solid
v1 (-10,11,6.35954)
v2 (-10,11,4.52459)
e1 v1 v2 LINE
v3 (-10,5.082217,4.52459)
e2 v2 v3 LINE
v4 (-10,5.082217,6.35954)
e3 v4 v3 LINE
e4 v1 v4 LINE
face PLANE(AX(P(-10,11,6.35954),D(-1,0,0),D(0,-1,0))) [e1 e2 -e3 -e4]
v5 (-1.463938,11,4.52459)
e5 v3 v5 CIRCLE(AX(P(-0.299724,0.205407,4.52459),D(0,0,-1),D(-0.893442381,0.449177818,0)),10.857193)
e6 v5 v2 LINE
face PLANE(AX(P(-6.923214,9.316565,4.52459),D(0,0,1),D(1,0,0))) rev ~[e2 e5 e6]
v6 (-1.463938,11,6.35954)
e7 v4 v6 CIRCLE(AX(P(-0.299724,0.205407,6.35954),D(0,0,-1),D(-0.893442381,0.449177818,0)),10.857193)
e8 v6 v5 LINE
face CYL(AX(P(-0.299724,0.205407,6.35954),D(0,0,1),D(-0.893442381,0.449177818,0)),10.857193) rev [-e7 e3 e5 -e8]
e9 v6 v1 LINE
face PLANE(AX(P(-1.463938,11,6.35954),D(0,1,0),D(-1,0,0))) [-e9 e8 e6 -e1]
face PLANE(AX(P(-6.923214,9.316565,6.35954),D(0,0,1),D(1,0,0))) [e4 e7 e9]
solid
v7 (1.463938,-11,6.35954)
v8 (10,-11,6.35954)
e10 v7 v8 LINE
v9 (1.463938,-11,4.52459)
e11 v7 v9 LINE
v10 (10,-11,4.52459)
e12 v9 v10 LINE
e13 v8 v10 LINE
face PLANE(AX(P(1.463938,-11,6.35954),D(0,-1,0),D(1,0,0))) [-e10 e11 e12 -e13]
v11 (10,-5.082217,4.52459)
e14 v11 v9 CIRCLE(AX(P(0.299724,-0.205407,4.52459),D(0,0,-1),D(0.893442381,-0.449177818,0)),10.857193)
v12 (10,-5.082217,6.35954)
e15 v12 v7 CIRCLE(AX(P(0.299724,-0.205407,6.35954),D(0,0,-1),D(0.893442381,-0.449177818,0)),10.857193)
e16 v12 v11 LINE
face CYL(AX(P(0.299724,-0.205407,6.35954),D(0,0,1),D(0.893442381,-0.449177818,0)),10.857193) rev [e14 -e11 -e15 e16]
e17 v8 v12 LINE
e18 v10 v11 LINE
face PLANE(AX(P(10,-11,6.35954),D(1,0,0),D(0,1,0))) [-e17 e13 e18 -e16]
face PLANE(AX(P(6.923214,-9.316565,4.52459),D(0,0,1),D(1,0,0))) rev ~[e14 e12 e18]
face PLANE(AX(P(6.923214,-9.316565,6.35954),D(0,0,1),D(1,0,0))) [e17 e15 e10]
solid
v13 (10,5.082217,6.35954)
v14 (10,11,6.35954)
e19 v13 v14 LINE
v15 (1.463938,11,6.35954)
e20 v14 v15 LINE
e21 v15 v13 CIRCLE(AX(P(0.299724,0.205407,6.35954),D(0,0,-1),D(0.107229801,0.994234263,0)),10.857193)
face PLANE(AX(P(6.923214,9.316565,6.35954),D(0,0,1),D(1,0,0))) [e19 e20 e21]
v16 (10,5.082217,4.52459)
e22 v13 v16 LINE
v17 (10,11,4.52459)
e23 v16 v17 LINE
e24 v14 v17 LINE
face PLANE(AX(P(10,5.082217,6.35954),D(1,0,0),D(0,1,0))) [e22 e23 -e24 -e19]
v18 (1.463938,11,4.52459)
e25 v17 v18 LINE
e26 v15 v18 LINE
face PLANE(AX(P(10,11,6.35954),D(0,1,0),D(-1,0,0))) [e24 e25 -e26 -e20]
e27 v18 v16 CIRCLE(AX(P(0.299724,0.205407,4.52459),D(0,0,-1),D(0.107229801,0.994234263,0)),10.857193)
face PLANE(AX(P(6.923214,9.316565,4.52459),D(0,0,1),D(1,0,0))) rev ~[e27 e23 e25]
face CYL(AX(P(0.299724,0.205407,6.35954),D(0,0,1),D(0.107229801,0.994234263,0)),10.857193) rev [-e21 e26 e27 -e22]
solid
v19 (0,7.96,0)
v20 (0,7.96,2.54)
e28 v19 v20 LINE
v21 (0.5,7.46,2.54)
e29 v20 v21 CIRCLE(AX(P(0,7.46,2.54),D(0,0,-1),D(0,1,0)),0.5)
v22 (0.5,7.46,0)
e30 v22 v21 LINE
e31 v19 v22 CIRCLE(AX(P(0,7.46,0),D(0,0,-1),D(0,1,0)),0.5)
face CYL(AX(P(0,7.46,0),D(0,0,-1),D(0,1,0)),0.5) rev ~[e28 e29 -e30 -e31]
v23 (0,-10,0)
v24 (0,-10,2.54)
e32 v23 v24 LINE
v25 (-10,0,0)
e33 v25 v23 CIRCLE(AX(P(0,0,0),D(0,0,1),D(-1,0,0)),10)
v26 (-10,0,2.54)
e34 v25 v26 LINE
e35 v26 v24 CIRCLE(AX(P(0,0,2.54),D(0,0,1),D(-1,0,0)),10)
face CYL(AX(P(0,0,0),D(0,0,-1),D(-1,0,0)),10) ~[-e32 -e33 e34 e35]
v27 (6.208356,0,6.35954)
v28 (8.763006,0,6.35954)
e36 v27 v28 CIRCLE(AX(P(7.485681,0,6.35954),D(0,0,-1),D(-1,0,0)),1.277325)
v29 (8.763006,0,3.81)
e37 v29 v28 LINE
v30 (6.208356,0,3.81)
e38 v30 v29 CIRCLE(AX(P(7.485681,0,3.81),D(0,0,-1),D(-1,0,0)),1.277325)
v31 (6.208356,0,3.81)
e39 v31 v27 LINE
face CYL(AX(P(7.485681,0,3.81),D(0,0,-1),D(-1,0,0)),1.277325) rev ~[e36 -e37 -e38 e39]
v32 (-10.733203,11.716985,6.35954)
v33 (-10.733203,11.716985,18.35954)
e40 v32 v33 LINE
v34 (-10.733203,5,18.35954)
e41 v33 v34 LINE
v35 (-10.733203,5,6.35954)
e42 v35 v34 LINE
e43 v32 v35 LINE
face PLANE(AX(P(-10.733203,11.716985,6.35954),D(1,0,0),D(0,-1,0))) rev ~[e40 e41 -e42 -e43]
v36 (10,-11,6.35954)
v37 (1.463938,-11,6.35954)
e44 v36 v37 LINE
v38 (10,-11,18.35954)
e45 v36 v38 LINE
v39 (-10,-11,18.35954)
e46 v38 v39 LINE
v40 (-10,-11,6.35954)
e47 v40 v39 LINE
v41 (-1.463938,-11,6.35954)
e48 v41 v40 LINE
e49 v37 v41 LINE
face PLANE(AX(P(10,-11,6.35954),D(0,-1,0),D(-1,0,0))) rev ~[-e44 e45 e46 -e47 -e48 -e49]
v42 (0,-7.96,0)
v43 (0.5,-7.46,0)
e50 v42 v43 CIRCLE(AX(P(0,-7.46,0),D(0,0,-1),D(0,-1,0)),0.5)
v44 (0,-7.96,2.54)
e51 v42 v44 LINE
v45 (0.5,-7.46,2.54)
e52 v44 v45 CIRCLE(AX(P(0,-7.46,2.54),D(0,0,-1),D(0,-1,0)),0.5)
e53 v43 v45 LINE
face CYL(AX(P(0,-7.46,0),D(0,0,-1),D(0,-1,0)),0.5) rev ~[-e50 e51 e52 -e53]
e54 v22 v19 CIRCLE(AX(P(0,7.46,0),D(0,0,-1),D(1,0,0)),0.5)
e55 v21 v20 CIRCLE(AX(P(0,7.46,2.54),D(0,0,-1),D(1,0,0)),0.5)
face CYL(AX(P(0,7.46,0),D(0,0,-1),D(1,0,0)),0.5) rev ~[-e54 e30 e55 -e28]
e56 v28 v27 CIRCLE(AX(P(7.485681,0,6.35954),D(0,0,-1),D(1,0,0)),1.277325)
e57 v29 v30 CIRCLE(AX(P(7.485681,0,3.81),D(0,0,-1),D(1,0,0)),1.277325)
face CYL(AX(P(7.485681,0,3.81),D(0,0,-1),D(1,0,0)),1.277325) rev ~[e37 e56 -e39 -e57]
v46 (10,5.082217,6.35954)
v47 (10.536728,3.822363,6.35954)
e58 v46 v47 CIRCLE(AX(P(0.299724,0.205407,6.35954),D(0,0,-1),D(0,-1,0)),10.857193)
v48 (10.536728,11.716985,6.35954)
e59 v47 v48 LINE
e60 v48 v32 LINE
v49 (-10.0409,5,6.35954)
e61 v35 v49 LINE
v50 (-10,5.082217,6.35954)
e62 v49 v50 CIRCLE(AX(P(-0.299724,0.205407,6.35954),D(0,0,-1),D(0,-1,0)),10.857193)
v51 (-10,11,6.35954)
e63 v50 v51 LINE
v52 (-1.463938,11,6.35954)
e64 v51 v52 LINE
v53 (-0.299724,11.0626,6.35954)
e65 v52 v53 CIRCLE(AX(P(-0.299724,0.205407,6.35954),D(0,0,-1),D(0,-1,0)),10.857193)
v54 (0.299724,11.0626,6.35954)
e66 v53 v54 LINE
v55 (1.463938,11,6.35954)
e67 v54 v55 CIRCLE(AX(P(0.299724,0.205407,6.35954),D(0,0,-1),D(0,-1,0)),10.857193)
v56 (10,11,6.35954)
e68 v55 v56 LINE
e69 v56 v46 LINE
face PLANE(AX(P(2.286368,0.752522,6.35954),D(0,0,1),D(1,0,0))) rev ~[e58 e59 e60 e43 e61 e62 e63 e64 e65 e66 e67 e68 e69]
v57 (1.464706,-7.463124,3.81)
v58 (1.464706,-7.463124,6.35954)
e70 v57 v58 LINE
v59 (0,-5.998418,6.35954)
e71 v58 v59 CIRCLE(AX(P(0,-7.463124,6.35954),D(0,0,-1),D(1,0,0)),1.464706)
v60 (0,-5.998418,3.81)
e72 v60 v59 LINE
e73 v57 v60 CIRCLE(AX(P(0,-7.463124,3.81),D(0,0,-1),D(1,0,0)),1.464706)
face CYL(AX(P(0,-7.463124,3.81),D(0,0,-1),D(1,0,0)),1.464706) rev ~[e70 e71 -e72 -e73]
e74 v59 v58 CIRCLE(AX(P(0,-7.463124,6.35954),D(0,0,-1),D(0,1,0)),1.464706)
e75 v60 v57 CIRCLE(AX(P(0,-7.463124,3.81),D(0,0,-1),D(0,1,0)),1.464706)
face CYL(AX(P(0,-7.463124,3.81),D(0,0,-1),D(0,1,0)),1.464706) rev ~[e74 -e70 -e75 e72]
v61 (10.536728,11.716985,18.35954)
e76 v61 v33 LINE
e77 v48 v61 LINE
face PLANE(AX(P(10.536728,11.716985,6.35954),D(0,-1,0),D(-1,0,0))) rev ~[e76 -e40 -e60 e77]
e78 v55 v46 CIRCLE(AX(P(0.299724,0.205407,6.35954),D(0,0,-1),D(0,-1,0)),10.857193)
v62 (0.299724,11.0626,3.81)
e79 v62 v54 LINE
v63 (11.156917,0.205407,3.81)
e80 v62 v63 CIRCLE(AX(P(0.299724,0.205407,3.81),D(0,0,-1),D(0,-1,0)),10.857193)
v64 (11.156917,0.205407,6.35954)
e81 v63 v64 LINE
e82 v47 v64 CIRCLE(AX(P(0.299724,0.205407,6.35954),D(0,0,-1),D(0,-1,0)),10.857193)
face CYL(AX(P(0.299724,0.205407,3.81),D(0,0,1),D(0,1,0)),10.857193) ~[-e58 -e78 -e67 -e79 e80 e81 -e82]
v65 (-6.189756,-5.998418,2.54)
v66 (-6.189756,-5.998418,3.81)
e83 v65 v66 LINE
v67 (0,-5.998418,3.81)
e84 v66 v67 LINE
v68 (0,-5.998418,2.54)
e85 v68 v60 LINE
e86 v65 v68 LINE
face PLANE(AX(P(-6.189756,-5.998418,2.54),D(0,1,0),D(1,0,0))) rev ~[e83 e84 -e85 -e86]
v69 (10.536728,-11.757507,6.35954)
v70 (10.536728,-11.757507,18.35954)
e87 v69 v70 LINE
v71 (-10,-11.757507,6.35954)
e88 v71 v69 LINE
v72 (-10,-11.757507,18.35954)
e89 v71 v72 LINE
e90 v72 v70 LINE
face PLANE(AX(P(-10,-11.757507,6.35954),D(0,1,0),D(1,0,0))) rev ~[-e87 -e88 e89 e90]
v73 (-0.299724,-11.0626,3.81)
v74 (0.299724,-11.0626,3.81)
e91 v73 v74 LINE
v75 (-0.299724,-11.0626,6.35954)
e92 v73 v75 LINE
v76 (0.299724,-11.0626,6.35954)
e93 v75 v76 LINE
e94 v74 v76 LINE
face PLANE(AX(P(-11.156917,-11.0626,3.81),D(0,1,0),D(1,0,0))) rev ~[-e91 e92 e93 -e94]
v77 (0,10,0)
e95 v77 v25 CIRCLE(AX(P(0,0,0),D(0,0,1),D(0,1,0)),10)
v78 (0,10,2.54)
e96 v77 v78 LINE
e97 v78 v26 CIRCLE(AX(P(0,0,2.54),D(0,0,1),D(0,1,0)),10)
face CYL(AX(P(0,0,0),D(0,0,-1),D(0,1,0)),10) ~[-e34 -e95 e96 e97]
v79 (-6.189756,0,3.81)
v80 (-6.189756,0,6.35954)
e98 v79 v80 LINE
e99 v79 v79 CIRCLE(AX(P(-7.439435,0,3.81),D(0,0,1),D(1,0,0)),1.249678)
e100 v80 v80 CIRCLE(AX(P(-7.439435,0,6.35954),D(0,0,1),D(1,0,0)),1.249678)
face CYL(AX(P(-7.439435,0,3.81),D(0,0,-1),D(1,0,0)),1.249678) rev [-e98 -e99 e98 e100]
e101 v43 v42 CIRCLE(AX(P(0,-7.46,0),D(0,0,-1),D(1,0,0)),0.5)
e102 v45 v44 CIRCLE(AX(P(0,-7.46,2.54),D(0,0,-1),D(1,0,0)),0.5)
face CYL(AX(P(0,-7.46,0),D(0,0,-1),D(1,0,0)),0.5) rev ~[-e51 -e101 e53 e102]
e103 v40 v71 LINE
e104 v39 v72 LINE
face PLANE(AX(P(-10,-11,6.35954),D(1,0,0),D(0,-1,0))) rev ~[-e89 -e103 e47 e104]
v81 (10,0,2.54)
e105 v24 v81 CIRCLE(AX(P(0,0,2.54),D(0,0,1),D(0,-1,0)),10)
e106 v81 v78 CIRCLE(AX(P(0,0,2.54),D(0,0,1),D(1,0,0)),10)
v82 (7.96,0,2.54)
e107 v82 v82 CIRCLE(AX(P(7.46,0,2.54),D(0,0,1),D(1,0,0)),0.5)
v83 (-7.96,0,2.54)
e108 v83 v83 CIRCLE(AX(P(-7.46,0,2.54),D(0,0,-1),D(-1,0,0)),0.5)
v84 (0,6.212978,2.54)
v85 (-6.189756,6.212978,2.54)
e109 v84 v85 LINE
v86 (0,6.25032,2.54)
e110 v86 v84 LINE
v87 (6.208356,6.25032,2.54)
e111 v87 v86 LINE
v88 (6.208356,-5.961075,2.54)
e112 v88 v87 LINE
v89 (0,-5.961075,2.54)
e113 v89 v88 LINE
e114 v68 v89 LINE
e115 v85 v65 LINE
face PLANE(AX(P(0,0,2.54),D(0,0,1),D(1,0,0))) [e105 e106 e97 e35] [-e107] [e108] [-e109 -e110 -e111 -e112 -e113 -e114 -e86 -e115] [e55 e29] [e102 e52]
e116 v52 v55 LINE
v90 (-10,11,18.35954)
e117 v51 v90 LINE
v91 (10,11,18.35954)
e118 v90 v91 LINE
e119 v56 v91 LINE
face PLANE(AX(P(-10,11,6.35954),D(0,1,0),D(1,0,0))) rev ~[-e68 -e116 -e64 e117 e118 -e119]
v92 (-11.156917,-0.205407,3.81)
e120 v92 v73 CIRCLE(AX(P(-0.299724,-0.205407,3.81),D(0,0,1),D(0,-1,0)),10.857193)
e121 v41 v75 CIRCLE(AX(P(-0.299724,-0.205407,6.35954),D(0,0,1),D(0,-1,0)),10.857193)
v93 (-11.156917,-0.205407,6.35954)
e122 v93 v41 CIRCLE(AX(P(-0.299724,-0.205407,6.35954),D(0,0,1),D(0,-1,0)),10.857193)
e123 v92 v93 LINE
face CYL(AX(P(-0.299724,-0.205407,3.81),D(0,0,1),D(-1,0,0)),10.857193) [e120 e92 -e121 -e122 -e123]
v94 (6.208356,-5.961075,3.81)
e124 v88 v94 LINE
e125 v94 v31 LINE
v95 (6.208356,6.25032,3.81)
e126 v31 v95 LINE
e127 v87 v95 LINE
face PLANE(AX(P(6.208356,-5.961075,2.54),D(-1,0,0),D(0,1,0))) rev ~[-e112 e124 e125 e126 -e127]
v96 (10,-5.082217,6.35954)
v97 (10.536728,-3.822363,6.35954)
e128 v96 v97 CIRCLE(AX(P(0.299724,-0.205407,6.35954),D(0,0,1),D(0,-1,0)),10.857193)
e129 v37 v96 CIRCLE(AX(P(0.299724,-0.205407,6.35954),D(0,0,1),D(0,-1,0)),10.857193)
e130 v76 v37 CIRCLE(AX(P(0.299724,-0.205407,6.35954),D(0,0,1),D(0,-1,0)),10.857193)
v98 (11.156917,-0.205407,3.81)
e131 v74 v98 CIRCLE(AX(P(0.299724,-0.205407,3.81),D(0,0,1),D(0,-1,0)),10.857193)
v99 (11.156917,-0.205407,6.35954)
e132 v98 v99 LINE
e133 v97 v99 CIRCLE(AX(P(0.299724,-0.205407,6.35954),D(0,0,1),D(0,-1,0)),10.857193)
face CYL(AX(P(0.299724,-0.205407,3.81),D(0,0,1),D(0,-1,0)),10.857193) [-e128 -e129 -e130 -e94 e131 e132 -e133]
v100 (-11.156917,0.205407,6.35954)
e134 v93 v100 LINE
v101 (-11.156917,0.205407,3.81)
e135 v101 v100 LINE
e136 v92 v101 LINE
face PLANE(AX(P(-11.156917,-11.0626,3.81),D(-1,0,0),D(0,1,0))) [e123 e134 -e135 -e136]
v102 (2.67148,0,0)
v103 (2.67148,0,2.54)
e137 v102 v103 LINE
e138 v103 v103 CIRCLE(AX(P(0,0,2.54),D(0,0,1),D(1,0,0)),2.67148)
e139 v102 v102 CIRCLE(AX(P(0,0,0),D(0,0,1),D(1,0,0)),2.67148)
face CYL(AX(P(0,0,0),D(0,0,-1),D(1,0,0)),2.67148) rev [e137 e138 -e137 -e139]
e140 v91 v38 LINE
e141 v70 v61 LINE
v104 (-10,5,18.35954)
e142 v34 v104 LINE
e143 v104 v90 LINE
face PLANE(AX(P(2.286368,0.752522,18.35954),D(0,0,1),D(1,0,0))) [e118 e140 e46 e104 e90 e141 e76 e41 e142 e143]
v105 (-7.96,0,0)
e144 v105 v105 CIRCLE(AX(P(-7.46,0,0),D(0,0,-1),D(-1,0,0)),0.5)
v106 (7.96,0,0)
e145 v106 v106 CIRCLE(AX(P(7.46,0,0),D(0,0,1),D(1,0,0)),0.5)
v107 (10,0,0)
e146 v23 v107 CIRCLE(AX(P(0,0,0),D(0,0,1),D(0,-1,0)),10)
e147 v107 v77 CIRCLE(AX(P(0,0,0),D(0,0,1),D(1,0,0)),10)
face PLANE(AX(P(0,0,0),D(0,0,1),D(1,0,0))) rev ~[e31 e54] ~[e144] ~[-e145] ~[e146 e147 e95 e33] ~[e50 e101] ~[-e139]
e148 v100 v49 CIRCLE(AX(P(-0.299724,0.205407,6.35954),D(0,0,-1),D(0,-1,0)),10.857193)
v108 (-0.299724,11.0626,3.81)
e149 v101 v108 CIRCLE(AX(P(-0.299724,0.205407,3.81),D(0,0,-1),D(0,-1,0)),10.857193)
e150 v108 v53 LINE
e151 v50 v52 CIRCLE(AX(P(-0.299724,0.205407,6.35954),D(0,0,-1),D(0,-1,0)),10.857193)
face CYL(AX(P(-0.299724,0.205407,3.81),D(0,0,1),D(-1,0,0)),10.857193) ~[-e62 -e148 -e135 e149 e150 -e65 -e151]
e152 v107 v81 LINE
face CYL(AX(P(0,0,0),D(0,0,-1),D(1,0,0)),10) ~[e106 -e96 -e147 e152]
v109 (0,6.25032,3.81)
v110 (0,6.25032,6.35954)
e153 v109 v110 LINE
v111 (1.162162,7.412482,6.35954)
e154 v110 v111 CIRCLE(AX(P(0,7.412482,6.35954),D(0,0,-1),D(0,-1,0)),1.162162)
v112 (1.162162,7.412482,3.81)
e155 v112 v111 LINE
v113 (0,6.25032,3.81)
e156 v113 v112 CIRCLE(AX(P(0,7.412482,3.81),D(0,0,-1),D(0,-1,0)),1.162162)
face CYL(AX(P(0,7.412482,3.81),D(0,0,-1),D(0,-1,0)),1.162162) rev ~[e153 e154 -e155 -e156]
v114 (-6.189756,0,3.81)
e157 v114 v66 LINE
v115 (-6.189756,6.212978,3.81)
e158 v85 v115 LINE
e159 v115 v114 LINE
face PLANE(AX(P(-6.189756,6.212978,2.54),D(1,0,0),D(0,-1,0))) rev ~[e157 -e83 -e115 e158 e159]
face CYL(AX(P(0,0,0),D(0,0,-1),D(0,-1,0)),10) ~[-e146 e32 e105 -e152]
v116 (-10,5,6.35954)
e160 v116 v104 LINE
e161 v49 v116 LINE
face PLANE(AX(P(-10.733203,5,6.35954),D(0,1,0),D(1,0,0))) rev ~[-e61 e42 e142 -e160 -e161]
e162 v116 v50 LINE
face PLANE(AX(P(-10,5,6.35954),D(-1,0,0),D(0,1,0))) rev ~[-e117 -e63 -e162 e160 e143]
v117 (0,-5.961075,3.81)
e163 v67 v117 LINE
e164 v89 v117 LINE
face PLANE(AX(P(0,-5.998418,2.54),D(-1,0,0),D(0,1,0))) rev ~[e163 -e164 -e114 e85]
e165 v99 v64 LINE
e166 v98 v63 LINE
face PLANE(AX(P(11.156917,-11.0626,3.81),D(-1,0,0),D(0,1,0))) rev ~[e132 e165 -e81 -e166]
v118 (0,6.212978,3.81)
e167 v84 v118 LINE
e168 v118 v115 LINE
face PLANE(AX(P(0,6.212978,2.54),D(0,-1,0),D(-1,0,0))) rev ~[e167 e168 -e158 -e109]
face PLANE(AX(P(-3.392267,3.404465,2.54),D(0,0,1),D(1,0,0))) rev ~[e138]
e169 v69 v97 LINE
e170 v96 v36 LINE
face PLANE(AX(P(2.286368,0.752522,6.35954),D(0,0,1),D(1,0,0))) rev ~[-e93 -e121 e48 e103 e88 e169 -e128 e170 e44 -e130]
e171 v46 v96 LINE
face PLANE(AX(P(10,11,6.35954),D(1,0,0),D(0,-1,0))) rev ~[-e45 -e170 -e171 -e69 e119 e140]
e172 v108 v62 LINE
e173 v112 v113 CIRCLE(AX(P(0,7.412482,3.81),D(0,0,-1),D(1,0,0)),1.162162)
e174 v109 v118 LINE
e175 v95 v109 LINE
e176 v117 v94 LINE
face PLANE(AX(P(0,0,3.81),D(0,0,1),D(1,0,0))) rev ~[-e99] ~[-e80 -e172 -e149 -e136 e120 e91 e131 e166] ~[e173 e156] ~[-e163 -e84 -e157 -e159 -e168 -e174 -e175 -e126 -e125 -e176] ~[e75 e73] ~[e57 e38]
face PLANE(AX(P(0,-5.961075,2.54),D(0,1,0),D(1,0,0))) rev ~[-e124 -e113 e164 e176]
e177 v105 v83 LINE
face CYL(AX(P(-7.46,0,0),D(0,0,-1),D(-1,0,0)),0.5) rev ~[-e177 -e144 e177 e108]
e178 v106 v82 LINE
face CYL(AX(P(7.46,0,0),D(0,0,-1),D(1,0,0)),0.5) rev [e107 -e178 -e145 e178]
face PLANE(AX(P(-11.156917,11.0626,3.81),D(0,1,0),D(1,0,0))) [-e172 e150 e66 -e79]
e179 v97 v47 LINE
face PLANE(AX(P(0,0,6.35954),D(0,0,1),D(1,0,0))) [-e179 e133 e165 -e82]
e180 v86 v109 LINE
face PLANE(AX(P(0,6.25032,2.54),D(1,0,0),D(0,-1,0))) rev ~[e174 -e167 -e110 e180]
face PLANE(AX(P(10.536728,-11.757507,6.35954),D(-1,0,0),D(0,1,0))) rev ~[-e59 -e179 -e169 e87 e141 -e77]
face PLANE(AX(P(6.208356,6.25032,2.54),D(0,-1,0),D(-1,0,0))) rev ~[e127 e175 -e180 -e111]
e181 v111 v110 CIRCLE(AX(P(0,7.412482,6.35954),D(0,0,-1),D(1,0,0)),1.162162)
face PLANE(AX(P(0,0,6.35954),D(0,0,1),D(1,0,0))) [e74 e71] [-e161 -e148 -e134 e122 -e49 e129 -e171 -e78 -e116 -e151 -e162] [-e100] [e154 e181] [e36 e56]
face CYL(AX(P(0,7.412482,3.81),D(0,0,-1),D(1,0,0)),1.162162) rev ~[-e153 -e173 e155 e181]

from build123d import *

# Parameters (mm, degrees)
F0_R     = 2.6714797436
F0_R_2   = 0.5
F1_DEPTH = 2.54
F3_DEPTH = 1.27
F4_W     = 22.3138332367
F4_H     = 22.1251994371
F4_R     = 1.2496784329
F5_DEPTH = 2.5495402515
F6_R     = 10.8571928441
F8_DEPTH = 12
F9_DEPTH = 1.83495


with BuildPart() as f1:
    # F0 (on Top) → F1 (new body)
    with BuildSketch(Plane.XY):
        with BuildLine():
            ThreePointArc((0, -10), (7.0710678119, -7.0710678119), (10, 0))
            ThreePointArc((10, 0), (7.0710678119, 7.0710678119), (0, 10))
            ThreePointArc((0, 10), (-7.0710678119, 7.0710678119), (-10, 0))
            ThreePointArc((-10, 0), (-7.0710678119, -7.0710678119), (0, -10))
        make_face()
        with BuildLine():
            ThreePointArc((0.5, -7.46), (0.3535533906, -7.8135533906), (0, -7.96))
            ThreePointArc((0, -7.96), (-0.3535533906, -7.1064466094), (0.5, -7.46))
        make_face(mode=Mode.SUBTRACT)
        with BuildLine():
            ThreePointArc((-6.96, 0), (-7.46, -0.5), (-7.96, 0))
            ThreePointArc((-7.96, 0), (-7.46, 0.5), (-6.96, 0))
        make_face(mode=Mode.SUBTRACT)
        Circle(F0_R, mode=Mode.SUBTRACT)
        with Locations((7.46, 0)):
            Circle(F0_R_2, mode=Mode.SUBTRACT)
        with BuildLine():
            ThreePointArc((0.5, 7.46), (-0.3535533906, 7.1064466094), (0, 7.96))
            ThreePointArc((0, 7.96), (0.3535533906, 7.8135533906), (0.5, 7.46))
        make_face(mode=Mode.SUBTRACT)
    extrude(amount=F1_DEPTH)

    # F2 (on face) → F3 (join)
    with BuildSketch(Plane.XY.offset(2.54)):
        with BuildLine():
            Line((-6.1897560954, 0), (-2.6714797436, 0))
            ThreePointArc((-2.6714797436, 0), (-1.8890214425, 1.8890214425), (0, 2.6714797436))
            Line((0, 2.6714797436), (0, 6.2129776925))
            Line((0, 6.2129776925), (-6.1897560954, 6.2129776925))
            Line((-6.1897560954, 6.2129776925), (-6.1897560954, 0))
        make_face()
        with BuildLine():
            Line((0, 6.2129776925), (0, 2.6714797436))
            ThreePointArc((0, 2.6714797436), (1.8890214425, 1.8890214425), (2.6714797436, 0))
            Line((2.6714797436, 0), (6.2083564699, 0))
            Line((6.2083564699, 0), (6.2083564699, 6.2503200024))
            Line((6.2083564699, 6.2503200024), (0, 6.2503200024))
            Line((0, 6.2503200024), (0, 6.2129776925))
        make_face()
        with BuildLine():
            ThreePointArc((0, -2.6714797436), (-1.8890214425, -1.8890214425), (-2.6714797436, 0))
            Line((-2.6714797436, 0), (-6.1897560954, 0))
            Line((-6.1897560954, 0), (-6.1897560954, -5.9984177351))
            Line((-6.1897560954, -5.9984177351), (0, -5.9984177351))
            Line((0, -5.9984177351), (0, -5.9610754251))
            Line((0, -5.9610754251), (0, -2.6714797436))
        make_face()
        with BuildLine():
            ThreePointArc((2.6714797436, 0), (1.8890214425, -1.8890214425), (0, -2.6714797436))
            Line((0, -2.6714797436), (0, -5.9610754251))
            Line((0, -5.9610754251), (6.2083564699, -5.9610754251))
            Line((6.2083564699, -5.9610754251), (6.2083564699, 0))
            Line((6.2083564699, 0), (2.6714797436, 0))
        make_face()
        with BuildLine():
            Line((2.6714797436, 0), (0, 0))
            Line((0, 0), (0, -2.6714797436))
            ThreePointArc((0, -2.6714797436), (1.8890214425, -1.8890214425), (2.6714797436, 0))
        make_face()
        with BuildLine():
            Line((0, -2.6714797436), (0, 0))
            Line((0, 0), (-2.6714797436, 0))
            ThreePointArc((-2.6714797436, 0), (-1.8890214425, -1.8890214425), (0, -2.6714797436))
        make_face()
        with BuildLine():
            Line((-2.6714797436, 0), (0, 0))
            Line((0, 0), (0, 2.6714797436))
            ThreePointArc((0, 2.6714797436), (-1.8890214425, 1.8890214425), (-2.6714797436, 0))
        make_face()
        with BuildLine():
            Line((0, 2.6714797436), (0, 0))
            Line((0, 0), (2.6714797436, 0))
            ThreePointArc((2.6714797436, 0), (1.8890214425, 1.8890214425), (0, 2.6714797436))
        make_face()
    extrude(amount=F3_DEPTH)

    # F4 (on face) → F5 (join)
    with BuildSketch(Plane.XY.offset(3.81)):
        Rectangle(F4_W, F4_H)
        with BuildLine():
            ThreePointArc((1.4647059143, -7.4631236494), (-1.0357034844, -8.4988271338), (0, -5.9984177351))
            ThreePointArc((0, -5.9984177351), (1.0357034844, -6.4274201649), (1.4647059143, -7.4631236494))
        make_face(mode=Mode.SUBTRACT)
        with Locations((-7.4394345284, 0)):
            Circle(F4_R, mode=Mode.SUBTRACT)
        Polygon((-6.1897560954, -5.9984177351), (-6.1897560954, 0), (-6.1897560954, 6.2129776925), (0, 6.2129776925), (0, 6.2503200024), (6.2083564699, 6.2503200024), (6.2083564699, 0), (6.2083564699, -5.9610754251), (0, -5.9610754251), (0, -5.9984177351), align=None, mode=Mode.SUBTRACT)
        with BuildLine():
            ThreePointArc((8.763005957, 0), (7.4856812134, -1.2773247436), (6.2083564699, 0))
            ThreePointArc((6.2083564699, 0), (7.4856812134, 1.2773247436), (8.763005957, 0))
        make_face(mode=Mode.SUBTRACT)
        with BuildLine():
            ThreePointArc((1.1621620506, 7.412482053), (0.8217726668, 6.5907093862), (0, 6.2503200024))
            ThreePointArc((0, 6.2503200024), (-0.8217726668, 8.2342547199), (1.1621620506, 7.412482053))
        make_face(mode=Mode.SUBTRACT)
        Polygon((-6.1897560954, 6.2129776925), (-6.1897560954, 0), (-6.1897560954, -5.9984177351), (0, -5.9984177351), (0, -5.9610754251), (6.2083564699, -5.9610754251), (6.2083564699, 0), (6.2083564699, 6.2503200024), (0, 6.2503200024), (0, 6.2129776925), align=None)
    extrude(amount=F5_DEPTH)

    # F6
    f6_edges = [f1.edges().sort_by_distance(p)[0] for p in [
        (-11.156917, -11.0626, 5.08477),
        (11.156917, -11.0626, 5.08477),
        (11.156917, 11.0626, 5.08477),
        (-11.156917, 11.0626, 5.08477),
    ]]
    fillet(f6_edges, radius=F6_R)

    # F7 (on face) → F8 (join)
    with BuildSketch(Plane.XY.offset(6.3595402515)):
        Polygon((-10, 11), (10, 11), (10, -11), (-10, -11), (-10, -11.7575069889), (10.5367284268, -11.7575069889), (10.5367284268, 11.7169851437), (-10.7332030311, 11.7169851437), (-10.7332030311, 5), (-10, 5), align=None)
    extrude(amount=F8_DEPTH)


with BuildPart() as f9:
    # F7 (on face) → F9 (new body)
    with BuildSketch(Plane.XY.offset(6.3595402515)):
        with BuildLine():
            Line((10, 5.0822170613), (10, 11))
            Line((10, 11), (1.4639384058, 11))
            ThreePointArc((1.4639384058, 11), (6.4855405452, 9.1280918588), (10, 5.0822170613))
        make_face()
    extrude(amount=-F9_DEPTH)


with BuildPart() as f9b:
    # F7 (on face) → F9, piece 2 (new body)
    with BuildSketch(Plane.XY.offset(6.3595402515)):
        with BuildLine():
            Line((10, -11), (10, -5.0822170613))
            ThreePointArc((10, -5.0822170613), (6.4855405452, -9.1280918588), (1.4639384058, -11))
            Line((1.4639384058, -11), (10, -11))
        make_face()
    extrude(amount=-F9_DEPTH)


with BuildPart() as f9c:
    # F7 (on face) → F9, piece 3 (new body)
    with BuildSketch(Plane.XY.offset(6.3595402515)):
        with BuildLine():
            ThreePointArc((-10, 5.0822170613), (-6.4855405452, 9.1280918588), (-1.4639384058, 11))
            Line((-1.4639384058, 11), (-10, 11))
            Line((-10, 11), (-10, 5.0822170613))
        make_face()
    extrude(amount=-F9_DEPTH)


solid = Compound([f1.part, f9.part, f9b.part, f9c.part])
